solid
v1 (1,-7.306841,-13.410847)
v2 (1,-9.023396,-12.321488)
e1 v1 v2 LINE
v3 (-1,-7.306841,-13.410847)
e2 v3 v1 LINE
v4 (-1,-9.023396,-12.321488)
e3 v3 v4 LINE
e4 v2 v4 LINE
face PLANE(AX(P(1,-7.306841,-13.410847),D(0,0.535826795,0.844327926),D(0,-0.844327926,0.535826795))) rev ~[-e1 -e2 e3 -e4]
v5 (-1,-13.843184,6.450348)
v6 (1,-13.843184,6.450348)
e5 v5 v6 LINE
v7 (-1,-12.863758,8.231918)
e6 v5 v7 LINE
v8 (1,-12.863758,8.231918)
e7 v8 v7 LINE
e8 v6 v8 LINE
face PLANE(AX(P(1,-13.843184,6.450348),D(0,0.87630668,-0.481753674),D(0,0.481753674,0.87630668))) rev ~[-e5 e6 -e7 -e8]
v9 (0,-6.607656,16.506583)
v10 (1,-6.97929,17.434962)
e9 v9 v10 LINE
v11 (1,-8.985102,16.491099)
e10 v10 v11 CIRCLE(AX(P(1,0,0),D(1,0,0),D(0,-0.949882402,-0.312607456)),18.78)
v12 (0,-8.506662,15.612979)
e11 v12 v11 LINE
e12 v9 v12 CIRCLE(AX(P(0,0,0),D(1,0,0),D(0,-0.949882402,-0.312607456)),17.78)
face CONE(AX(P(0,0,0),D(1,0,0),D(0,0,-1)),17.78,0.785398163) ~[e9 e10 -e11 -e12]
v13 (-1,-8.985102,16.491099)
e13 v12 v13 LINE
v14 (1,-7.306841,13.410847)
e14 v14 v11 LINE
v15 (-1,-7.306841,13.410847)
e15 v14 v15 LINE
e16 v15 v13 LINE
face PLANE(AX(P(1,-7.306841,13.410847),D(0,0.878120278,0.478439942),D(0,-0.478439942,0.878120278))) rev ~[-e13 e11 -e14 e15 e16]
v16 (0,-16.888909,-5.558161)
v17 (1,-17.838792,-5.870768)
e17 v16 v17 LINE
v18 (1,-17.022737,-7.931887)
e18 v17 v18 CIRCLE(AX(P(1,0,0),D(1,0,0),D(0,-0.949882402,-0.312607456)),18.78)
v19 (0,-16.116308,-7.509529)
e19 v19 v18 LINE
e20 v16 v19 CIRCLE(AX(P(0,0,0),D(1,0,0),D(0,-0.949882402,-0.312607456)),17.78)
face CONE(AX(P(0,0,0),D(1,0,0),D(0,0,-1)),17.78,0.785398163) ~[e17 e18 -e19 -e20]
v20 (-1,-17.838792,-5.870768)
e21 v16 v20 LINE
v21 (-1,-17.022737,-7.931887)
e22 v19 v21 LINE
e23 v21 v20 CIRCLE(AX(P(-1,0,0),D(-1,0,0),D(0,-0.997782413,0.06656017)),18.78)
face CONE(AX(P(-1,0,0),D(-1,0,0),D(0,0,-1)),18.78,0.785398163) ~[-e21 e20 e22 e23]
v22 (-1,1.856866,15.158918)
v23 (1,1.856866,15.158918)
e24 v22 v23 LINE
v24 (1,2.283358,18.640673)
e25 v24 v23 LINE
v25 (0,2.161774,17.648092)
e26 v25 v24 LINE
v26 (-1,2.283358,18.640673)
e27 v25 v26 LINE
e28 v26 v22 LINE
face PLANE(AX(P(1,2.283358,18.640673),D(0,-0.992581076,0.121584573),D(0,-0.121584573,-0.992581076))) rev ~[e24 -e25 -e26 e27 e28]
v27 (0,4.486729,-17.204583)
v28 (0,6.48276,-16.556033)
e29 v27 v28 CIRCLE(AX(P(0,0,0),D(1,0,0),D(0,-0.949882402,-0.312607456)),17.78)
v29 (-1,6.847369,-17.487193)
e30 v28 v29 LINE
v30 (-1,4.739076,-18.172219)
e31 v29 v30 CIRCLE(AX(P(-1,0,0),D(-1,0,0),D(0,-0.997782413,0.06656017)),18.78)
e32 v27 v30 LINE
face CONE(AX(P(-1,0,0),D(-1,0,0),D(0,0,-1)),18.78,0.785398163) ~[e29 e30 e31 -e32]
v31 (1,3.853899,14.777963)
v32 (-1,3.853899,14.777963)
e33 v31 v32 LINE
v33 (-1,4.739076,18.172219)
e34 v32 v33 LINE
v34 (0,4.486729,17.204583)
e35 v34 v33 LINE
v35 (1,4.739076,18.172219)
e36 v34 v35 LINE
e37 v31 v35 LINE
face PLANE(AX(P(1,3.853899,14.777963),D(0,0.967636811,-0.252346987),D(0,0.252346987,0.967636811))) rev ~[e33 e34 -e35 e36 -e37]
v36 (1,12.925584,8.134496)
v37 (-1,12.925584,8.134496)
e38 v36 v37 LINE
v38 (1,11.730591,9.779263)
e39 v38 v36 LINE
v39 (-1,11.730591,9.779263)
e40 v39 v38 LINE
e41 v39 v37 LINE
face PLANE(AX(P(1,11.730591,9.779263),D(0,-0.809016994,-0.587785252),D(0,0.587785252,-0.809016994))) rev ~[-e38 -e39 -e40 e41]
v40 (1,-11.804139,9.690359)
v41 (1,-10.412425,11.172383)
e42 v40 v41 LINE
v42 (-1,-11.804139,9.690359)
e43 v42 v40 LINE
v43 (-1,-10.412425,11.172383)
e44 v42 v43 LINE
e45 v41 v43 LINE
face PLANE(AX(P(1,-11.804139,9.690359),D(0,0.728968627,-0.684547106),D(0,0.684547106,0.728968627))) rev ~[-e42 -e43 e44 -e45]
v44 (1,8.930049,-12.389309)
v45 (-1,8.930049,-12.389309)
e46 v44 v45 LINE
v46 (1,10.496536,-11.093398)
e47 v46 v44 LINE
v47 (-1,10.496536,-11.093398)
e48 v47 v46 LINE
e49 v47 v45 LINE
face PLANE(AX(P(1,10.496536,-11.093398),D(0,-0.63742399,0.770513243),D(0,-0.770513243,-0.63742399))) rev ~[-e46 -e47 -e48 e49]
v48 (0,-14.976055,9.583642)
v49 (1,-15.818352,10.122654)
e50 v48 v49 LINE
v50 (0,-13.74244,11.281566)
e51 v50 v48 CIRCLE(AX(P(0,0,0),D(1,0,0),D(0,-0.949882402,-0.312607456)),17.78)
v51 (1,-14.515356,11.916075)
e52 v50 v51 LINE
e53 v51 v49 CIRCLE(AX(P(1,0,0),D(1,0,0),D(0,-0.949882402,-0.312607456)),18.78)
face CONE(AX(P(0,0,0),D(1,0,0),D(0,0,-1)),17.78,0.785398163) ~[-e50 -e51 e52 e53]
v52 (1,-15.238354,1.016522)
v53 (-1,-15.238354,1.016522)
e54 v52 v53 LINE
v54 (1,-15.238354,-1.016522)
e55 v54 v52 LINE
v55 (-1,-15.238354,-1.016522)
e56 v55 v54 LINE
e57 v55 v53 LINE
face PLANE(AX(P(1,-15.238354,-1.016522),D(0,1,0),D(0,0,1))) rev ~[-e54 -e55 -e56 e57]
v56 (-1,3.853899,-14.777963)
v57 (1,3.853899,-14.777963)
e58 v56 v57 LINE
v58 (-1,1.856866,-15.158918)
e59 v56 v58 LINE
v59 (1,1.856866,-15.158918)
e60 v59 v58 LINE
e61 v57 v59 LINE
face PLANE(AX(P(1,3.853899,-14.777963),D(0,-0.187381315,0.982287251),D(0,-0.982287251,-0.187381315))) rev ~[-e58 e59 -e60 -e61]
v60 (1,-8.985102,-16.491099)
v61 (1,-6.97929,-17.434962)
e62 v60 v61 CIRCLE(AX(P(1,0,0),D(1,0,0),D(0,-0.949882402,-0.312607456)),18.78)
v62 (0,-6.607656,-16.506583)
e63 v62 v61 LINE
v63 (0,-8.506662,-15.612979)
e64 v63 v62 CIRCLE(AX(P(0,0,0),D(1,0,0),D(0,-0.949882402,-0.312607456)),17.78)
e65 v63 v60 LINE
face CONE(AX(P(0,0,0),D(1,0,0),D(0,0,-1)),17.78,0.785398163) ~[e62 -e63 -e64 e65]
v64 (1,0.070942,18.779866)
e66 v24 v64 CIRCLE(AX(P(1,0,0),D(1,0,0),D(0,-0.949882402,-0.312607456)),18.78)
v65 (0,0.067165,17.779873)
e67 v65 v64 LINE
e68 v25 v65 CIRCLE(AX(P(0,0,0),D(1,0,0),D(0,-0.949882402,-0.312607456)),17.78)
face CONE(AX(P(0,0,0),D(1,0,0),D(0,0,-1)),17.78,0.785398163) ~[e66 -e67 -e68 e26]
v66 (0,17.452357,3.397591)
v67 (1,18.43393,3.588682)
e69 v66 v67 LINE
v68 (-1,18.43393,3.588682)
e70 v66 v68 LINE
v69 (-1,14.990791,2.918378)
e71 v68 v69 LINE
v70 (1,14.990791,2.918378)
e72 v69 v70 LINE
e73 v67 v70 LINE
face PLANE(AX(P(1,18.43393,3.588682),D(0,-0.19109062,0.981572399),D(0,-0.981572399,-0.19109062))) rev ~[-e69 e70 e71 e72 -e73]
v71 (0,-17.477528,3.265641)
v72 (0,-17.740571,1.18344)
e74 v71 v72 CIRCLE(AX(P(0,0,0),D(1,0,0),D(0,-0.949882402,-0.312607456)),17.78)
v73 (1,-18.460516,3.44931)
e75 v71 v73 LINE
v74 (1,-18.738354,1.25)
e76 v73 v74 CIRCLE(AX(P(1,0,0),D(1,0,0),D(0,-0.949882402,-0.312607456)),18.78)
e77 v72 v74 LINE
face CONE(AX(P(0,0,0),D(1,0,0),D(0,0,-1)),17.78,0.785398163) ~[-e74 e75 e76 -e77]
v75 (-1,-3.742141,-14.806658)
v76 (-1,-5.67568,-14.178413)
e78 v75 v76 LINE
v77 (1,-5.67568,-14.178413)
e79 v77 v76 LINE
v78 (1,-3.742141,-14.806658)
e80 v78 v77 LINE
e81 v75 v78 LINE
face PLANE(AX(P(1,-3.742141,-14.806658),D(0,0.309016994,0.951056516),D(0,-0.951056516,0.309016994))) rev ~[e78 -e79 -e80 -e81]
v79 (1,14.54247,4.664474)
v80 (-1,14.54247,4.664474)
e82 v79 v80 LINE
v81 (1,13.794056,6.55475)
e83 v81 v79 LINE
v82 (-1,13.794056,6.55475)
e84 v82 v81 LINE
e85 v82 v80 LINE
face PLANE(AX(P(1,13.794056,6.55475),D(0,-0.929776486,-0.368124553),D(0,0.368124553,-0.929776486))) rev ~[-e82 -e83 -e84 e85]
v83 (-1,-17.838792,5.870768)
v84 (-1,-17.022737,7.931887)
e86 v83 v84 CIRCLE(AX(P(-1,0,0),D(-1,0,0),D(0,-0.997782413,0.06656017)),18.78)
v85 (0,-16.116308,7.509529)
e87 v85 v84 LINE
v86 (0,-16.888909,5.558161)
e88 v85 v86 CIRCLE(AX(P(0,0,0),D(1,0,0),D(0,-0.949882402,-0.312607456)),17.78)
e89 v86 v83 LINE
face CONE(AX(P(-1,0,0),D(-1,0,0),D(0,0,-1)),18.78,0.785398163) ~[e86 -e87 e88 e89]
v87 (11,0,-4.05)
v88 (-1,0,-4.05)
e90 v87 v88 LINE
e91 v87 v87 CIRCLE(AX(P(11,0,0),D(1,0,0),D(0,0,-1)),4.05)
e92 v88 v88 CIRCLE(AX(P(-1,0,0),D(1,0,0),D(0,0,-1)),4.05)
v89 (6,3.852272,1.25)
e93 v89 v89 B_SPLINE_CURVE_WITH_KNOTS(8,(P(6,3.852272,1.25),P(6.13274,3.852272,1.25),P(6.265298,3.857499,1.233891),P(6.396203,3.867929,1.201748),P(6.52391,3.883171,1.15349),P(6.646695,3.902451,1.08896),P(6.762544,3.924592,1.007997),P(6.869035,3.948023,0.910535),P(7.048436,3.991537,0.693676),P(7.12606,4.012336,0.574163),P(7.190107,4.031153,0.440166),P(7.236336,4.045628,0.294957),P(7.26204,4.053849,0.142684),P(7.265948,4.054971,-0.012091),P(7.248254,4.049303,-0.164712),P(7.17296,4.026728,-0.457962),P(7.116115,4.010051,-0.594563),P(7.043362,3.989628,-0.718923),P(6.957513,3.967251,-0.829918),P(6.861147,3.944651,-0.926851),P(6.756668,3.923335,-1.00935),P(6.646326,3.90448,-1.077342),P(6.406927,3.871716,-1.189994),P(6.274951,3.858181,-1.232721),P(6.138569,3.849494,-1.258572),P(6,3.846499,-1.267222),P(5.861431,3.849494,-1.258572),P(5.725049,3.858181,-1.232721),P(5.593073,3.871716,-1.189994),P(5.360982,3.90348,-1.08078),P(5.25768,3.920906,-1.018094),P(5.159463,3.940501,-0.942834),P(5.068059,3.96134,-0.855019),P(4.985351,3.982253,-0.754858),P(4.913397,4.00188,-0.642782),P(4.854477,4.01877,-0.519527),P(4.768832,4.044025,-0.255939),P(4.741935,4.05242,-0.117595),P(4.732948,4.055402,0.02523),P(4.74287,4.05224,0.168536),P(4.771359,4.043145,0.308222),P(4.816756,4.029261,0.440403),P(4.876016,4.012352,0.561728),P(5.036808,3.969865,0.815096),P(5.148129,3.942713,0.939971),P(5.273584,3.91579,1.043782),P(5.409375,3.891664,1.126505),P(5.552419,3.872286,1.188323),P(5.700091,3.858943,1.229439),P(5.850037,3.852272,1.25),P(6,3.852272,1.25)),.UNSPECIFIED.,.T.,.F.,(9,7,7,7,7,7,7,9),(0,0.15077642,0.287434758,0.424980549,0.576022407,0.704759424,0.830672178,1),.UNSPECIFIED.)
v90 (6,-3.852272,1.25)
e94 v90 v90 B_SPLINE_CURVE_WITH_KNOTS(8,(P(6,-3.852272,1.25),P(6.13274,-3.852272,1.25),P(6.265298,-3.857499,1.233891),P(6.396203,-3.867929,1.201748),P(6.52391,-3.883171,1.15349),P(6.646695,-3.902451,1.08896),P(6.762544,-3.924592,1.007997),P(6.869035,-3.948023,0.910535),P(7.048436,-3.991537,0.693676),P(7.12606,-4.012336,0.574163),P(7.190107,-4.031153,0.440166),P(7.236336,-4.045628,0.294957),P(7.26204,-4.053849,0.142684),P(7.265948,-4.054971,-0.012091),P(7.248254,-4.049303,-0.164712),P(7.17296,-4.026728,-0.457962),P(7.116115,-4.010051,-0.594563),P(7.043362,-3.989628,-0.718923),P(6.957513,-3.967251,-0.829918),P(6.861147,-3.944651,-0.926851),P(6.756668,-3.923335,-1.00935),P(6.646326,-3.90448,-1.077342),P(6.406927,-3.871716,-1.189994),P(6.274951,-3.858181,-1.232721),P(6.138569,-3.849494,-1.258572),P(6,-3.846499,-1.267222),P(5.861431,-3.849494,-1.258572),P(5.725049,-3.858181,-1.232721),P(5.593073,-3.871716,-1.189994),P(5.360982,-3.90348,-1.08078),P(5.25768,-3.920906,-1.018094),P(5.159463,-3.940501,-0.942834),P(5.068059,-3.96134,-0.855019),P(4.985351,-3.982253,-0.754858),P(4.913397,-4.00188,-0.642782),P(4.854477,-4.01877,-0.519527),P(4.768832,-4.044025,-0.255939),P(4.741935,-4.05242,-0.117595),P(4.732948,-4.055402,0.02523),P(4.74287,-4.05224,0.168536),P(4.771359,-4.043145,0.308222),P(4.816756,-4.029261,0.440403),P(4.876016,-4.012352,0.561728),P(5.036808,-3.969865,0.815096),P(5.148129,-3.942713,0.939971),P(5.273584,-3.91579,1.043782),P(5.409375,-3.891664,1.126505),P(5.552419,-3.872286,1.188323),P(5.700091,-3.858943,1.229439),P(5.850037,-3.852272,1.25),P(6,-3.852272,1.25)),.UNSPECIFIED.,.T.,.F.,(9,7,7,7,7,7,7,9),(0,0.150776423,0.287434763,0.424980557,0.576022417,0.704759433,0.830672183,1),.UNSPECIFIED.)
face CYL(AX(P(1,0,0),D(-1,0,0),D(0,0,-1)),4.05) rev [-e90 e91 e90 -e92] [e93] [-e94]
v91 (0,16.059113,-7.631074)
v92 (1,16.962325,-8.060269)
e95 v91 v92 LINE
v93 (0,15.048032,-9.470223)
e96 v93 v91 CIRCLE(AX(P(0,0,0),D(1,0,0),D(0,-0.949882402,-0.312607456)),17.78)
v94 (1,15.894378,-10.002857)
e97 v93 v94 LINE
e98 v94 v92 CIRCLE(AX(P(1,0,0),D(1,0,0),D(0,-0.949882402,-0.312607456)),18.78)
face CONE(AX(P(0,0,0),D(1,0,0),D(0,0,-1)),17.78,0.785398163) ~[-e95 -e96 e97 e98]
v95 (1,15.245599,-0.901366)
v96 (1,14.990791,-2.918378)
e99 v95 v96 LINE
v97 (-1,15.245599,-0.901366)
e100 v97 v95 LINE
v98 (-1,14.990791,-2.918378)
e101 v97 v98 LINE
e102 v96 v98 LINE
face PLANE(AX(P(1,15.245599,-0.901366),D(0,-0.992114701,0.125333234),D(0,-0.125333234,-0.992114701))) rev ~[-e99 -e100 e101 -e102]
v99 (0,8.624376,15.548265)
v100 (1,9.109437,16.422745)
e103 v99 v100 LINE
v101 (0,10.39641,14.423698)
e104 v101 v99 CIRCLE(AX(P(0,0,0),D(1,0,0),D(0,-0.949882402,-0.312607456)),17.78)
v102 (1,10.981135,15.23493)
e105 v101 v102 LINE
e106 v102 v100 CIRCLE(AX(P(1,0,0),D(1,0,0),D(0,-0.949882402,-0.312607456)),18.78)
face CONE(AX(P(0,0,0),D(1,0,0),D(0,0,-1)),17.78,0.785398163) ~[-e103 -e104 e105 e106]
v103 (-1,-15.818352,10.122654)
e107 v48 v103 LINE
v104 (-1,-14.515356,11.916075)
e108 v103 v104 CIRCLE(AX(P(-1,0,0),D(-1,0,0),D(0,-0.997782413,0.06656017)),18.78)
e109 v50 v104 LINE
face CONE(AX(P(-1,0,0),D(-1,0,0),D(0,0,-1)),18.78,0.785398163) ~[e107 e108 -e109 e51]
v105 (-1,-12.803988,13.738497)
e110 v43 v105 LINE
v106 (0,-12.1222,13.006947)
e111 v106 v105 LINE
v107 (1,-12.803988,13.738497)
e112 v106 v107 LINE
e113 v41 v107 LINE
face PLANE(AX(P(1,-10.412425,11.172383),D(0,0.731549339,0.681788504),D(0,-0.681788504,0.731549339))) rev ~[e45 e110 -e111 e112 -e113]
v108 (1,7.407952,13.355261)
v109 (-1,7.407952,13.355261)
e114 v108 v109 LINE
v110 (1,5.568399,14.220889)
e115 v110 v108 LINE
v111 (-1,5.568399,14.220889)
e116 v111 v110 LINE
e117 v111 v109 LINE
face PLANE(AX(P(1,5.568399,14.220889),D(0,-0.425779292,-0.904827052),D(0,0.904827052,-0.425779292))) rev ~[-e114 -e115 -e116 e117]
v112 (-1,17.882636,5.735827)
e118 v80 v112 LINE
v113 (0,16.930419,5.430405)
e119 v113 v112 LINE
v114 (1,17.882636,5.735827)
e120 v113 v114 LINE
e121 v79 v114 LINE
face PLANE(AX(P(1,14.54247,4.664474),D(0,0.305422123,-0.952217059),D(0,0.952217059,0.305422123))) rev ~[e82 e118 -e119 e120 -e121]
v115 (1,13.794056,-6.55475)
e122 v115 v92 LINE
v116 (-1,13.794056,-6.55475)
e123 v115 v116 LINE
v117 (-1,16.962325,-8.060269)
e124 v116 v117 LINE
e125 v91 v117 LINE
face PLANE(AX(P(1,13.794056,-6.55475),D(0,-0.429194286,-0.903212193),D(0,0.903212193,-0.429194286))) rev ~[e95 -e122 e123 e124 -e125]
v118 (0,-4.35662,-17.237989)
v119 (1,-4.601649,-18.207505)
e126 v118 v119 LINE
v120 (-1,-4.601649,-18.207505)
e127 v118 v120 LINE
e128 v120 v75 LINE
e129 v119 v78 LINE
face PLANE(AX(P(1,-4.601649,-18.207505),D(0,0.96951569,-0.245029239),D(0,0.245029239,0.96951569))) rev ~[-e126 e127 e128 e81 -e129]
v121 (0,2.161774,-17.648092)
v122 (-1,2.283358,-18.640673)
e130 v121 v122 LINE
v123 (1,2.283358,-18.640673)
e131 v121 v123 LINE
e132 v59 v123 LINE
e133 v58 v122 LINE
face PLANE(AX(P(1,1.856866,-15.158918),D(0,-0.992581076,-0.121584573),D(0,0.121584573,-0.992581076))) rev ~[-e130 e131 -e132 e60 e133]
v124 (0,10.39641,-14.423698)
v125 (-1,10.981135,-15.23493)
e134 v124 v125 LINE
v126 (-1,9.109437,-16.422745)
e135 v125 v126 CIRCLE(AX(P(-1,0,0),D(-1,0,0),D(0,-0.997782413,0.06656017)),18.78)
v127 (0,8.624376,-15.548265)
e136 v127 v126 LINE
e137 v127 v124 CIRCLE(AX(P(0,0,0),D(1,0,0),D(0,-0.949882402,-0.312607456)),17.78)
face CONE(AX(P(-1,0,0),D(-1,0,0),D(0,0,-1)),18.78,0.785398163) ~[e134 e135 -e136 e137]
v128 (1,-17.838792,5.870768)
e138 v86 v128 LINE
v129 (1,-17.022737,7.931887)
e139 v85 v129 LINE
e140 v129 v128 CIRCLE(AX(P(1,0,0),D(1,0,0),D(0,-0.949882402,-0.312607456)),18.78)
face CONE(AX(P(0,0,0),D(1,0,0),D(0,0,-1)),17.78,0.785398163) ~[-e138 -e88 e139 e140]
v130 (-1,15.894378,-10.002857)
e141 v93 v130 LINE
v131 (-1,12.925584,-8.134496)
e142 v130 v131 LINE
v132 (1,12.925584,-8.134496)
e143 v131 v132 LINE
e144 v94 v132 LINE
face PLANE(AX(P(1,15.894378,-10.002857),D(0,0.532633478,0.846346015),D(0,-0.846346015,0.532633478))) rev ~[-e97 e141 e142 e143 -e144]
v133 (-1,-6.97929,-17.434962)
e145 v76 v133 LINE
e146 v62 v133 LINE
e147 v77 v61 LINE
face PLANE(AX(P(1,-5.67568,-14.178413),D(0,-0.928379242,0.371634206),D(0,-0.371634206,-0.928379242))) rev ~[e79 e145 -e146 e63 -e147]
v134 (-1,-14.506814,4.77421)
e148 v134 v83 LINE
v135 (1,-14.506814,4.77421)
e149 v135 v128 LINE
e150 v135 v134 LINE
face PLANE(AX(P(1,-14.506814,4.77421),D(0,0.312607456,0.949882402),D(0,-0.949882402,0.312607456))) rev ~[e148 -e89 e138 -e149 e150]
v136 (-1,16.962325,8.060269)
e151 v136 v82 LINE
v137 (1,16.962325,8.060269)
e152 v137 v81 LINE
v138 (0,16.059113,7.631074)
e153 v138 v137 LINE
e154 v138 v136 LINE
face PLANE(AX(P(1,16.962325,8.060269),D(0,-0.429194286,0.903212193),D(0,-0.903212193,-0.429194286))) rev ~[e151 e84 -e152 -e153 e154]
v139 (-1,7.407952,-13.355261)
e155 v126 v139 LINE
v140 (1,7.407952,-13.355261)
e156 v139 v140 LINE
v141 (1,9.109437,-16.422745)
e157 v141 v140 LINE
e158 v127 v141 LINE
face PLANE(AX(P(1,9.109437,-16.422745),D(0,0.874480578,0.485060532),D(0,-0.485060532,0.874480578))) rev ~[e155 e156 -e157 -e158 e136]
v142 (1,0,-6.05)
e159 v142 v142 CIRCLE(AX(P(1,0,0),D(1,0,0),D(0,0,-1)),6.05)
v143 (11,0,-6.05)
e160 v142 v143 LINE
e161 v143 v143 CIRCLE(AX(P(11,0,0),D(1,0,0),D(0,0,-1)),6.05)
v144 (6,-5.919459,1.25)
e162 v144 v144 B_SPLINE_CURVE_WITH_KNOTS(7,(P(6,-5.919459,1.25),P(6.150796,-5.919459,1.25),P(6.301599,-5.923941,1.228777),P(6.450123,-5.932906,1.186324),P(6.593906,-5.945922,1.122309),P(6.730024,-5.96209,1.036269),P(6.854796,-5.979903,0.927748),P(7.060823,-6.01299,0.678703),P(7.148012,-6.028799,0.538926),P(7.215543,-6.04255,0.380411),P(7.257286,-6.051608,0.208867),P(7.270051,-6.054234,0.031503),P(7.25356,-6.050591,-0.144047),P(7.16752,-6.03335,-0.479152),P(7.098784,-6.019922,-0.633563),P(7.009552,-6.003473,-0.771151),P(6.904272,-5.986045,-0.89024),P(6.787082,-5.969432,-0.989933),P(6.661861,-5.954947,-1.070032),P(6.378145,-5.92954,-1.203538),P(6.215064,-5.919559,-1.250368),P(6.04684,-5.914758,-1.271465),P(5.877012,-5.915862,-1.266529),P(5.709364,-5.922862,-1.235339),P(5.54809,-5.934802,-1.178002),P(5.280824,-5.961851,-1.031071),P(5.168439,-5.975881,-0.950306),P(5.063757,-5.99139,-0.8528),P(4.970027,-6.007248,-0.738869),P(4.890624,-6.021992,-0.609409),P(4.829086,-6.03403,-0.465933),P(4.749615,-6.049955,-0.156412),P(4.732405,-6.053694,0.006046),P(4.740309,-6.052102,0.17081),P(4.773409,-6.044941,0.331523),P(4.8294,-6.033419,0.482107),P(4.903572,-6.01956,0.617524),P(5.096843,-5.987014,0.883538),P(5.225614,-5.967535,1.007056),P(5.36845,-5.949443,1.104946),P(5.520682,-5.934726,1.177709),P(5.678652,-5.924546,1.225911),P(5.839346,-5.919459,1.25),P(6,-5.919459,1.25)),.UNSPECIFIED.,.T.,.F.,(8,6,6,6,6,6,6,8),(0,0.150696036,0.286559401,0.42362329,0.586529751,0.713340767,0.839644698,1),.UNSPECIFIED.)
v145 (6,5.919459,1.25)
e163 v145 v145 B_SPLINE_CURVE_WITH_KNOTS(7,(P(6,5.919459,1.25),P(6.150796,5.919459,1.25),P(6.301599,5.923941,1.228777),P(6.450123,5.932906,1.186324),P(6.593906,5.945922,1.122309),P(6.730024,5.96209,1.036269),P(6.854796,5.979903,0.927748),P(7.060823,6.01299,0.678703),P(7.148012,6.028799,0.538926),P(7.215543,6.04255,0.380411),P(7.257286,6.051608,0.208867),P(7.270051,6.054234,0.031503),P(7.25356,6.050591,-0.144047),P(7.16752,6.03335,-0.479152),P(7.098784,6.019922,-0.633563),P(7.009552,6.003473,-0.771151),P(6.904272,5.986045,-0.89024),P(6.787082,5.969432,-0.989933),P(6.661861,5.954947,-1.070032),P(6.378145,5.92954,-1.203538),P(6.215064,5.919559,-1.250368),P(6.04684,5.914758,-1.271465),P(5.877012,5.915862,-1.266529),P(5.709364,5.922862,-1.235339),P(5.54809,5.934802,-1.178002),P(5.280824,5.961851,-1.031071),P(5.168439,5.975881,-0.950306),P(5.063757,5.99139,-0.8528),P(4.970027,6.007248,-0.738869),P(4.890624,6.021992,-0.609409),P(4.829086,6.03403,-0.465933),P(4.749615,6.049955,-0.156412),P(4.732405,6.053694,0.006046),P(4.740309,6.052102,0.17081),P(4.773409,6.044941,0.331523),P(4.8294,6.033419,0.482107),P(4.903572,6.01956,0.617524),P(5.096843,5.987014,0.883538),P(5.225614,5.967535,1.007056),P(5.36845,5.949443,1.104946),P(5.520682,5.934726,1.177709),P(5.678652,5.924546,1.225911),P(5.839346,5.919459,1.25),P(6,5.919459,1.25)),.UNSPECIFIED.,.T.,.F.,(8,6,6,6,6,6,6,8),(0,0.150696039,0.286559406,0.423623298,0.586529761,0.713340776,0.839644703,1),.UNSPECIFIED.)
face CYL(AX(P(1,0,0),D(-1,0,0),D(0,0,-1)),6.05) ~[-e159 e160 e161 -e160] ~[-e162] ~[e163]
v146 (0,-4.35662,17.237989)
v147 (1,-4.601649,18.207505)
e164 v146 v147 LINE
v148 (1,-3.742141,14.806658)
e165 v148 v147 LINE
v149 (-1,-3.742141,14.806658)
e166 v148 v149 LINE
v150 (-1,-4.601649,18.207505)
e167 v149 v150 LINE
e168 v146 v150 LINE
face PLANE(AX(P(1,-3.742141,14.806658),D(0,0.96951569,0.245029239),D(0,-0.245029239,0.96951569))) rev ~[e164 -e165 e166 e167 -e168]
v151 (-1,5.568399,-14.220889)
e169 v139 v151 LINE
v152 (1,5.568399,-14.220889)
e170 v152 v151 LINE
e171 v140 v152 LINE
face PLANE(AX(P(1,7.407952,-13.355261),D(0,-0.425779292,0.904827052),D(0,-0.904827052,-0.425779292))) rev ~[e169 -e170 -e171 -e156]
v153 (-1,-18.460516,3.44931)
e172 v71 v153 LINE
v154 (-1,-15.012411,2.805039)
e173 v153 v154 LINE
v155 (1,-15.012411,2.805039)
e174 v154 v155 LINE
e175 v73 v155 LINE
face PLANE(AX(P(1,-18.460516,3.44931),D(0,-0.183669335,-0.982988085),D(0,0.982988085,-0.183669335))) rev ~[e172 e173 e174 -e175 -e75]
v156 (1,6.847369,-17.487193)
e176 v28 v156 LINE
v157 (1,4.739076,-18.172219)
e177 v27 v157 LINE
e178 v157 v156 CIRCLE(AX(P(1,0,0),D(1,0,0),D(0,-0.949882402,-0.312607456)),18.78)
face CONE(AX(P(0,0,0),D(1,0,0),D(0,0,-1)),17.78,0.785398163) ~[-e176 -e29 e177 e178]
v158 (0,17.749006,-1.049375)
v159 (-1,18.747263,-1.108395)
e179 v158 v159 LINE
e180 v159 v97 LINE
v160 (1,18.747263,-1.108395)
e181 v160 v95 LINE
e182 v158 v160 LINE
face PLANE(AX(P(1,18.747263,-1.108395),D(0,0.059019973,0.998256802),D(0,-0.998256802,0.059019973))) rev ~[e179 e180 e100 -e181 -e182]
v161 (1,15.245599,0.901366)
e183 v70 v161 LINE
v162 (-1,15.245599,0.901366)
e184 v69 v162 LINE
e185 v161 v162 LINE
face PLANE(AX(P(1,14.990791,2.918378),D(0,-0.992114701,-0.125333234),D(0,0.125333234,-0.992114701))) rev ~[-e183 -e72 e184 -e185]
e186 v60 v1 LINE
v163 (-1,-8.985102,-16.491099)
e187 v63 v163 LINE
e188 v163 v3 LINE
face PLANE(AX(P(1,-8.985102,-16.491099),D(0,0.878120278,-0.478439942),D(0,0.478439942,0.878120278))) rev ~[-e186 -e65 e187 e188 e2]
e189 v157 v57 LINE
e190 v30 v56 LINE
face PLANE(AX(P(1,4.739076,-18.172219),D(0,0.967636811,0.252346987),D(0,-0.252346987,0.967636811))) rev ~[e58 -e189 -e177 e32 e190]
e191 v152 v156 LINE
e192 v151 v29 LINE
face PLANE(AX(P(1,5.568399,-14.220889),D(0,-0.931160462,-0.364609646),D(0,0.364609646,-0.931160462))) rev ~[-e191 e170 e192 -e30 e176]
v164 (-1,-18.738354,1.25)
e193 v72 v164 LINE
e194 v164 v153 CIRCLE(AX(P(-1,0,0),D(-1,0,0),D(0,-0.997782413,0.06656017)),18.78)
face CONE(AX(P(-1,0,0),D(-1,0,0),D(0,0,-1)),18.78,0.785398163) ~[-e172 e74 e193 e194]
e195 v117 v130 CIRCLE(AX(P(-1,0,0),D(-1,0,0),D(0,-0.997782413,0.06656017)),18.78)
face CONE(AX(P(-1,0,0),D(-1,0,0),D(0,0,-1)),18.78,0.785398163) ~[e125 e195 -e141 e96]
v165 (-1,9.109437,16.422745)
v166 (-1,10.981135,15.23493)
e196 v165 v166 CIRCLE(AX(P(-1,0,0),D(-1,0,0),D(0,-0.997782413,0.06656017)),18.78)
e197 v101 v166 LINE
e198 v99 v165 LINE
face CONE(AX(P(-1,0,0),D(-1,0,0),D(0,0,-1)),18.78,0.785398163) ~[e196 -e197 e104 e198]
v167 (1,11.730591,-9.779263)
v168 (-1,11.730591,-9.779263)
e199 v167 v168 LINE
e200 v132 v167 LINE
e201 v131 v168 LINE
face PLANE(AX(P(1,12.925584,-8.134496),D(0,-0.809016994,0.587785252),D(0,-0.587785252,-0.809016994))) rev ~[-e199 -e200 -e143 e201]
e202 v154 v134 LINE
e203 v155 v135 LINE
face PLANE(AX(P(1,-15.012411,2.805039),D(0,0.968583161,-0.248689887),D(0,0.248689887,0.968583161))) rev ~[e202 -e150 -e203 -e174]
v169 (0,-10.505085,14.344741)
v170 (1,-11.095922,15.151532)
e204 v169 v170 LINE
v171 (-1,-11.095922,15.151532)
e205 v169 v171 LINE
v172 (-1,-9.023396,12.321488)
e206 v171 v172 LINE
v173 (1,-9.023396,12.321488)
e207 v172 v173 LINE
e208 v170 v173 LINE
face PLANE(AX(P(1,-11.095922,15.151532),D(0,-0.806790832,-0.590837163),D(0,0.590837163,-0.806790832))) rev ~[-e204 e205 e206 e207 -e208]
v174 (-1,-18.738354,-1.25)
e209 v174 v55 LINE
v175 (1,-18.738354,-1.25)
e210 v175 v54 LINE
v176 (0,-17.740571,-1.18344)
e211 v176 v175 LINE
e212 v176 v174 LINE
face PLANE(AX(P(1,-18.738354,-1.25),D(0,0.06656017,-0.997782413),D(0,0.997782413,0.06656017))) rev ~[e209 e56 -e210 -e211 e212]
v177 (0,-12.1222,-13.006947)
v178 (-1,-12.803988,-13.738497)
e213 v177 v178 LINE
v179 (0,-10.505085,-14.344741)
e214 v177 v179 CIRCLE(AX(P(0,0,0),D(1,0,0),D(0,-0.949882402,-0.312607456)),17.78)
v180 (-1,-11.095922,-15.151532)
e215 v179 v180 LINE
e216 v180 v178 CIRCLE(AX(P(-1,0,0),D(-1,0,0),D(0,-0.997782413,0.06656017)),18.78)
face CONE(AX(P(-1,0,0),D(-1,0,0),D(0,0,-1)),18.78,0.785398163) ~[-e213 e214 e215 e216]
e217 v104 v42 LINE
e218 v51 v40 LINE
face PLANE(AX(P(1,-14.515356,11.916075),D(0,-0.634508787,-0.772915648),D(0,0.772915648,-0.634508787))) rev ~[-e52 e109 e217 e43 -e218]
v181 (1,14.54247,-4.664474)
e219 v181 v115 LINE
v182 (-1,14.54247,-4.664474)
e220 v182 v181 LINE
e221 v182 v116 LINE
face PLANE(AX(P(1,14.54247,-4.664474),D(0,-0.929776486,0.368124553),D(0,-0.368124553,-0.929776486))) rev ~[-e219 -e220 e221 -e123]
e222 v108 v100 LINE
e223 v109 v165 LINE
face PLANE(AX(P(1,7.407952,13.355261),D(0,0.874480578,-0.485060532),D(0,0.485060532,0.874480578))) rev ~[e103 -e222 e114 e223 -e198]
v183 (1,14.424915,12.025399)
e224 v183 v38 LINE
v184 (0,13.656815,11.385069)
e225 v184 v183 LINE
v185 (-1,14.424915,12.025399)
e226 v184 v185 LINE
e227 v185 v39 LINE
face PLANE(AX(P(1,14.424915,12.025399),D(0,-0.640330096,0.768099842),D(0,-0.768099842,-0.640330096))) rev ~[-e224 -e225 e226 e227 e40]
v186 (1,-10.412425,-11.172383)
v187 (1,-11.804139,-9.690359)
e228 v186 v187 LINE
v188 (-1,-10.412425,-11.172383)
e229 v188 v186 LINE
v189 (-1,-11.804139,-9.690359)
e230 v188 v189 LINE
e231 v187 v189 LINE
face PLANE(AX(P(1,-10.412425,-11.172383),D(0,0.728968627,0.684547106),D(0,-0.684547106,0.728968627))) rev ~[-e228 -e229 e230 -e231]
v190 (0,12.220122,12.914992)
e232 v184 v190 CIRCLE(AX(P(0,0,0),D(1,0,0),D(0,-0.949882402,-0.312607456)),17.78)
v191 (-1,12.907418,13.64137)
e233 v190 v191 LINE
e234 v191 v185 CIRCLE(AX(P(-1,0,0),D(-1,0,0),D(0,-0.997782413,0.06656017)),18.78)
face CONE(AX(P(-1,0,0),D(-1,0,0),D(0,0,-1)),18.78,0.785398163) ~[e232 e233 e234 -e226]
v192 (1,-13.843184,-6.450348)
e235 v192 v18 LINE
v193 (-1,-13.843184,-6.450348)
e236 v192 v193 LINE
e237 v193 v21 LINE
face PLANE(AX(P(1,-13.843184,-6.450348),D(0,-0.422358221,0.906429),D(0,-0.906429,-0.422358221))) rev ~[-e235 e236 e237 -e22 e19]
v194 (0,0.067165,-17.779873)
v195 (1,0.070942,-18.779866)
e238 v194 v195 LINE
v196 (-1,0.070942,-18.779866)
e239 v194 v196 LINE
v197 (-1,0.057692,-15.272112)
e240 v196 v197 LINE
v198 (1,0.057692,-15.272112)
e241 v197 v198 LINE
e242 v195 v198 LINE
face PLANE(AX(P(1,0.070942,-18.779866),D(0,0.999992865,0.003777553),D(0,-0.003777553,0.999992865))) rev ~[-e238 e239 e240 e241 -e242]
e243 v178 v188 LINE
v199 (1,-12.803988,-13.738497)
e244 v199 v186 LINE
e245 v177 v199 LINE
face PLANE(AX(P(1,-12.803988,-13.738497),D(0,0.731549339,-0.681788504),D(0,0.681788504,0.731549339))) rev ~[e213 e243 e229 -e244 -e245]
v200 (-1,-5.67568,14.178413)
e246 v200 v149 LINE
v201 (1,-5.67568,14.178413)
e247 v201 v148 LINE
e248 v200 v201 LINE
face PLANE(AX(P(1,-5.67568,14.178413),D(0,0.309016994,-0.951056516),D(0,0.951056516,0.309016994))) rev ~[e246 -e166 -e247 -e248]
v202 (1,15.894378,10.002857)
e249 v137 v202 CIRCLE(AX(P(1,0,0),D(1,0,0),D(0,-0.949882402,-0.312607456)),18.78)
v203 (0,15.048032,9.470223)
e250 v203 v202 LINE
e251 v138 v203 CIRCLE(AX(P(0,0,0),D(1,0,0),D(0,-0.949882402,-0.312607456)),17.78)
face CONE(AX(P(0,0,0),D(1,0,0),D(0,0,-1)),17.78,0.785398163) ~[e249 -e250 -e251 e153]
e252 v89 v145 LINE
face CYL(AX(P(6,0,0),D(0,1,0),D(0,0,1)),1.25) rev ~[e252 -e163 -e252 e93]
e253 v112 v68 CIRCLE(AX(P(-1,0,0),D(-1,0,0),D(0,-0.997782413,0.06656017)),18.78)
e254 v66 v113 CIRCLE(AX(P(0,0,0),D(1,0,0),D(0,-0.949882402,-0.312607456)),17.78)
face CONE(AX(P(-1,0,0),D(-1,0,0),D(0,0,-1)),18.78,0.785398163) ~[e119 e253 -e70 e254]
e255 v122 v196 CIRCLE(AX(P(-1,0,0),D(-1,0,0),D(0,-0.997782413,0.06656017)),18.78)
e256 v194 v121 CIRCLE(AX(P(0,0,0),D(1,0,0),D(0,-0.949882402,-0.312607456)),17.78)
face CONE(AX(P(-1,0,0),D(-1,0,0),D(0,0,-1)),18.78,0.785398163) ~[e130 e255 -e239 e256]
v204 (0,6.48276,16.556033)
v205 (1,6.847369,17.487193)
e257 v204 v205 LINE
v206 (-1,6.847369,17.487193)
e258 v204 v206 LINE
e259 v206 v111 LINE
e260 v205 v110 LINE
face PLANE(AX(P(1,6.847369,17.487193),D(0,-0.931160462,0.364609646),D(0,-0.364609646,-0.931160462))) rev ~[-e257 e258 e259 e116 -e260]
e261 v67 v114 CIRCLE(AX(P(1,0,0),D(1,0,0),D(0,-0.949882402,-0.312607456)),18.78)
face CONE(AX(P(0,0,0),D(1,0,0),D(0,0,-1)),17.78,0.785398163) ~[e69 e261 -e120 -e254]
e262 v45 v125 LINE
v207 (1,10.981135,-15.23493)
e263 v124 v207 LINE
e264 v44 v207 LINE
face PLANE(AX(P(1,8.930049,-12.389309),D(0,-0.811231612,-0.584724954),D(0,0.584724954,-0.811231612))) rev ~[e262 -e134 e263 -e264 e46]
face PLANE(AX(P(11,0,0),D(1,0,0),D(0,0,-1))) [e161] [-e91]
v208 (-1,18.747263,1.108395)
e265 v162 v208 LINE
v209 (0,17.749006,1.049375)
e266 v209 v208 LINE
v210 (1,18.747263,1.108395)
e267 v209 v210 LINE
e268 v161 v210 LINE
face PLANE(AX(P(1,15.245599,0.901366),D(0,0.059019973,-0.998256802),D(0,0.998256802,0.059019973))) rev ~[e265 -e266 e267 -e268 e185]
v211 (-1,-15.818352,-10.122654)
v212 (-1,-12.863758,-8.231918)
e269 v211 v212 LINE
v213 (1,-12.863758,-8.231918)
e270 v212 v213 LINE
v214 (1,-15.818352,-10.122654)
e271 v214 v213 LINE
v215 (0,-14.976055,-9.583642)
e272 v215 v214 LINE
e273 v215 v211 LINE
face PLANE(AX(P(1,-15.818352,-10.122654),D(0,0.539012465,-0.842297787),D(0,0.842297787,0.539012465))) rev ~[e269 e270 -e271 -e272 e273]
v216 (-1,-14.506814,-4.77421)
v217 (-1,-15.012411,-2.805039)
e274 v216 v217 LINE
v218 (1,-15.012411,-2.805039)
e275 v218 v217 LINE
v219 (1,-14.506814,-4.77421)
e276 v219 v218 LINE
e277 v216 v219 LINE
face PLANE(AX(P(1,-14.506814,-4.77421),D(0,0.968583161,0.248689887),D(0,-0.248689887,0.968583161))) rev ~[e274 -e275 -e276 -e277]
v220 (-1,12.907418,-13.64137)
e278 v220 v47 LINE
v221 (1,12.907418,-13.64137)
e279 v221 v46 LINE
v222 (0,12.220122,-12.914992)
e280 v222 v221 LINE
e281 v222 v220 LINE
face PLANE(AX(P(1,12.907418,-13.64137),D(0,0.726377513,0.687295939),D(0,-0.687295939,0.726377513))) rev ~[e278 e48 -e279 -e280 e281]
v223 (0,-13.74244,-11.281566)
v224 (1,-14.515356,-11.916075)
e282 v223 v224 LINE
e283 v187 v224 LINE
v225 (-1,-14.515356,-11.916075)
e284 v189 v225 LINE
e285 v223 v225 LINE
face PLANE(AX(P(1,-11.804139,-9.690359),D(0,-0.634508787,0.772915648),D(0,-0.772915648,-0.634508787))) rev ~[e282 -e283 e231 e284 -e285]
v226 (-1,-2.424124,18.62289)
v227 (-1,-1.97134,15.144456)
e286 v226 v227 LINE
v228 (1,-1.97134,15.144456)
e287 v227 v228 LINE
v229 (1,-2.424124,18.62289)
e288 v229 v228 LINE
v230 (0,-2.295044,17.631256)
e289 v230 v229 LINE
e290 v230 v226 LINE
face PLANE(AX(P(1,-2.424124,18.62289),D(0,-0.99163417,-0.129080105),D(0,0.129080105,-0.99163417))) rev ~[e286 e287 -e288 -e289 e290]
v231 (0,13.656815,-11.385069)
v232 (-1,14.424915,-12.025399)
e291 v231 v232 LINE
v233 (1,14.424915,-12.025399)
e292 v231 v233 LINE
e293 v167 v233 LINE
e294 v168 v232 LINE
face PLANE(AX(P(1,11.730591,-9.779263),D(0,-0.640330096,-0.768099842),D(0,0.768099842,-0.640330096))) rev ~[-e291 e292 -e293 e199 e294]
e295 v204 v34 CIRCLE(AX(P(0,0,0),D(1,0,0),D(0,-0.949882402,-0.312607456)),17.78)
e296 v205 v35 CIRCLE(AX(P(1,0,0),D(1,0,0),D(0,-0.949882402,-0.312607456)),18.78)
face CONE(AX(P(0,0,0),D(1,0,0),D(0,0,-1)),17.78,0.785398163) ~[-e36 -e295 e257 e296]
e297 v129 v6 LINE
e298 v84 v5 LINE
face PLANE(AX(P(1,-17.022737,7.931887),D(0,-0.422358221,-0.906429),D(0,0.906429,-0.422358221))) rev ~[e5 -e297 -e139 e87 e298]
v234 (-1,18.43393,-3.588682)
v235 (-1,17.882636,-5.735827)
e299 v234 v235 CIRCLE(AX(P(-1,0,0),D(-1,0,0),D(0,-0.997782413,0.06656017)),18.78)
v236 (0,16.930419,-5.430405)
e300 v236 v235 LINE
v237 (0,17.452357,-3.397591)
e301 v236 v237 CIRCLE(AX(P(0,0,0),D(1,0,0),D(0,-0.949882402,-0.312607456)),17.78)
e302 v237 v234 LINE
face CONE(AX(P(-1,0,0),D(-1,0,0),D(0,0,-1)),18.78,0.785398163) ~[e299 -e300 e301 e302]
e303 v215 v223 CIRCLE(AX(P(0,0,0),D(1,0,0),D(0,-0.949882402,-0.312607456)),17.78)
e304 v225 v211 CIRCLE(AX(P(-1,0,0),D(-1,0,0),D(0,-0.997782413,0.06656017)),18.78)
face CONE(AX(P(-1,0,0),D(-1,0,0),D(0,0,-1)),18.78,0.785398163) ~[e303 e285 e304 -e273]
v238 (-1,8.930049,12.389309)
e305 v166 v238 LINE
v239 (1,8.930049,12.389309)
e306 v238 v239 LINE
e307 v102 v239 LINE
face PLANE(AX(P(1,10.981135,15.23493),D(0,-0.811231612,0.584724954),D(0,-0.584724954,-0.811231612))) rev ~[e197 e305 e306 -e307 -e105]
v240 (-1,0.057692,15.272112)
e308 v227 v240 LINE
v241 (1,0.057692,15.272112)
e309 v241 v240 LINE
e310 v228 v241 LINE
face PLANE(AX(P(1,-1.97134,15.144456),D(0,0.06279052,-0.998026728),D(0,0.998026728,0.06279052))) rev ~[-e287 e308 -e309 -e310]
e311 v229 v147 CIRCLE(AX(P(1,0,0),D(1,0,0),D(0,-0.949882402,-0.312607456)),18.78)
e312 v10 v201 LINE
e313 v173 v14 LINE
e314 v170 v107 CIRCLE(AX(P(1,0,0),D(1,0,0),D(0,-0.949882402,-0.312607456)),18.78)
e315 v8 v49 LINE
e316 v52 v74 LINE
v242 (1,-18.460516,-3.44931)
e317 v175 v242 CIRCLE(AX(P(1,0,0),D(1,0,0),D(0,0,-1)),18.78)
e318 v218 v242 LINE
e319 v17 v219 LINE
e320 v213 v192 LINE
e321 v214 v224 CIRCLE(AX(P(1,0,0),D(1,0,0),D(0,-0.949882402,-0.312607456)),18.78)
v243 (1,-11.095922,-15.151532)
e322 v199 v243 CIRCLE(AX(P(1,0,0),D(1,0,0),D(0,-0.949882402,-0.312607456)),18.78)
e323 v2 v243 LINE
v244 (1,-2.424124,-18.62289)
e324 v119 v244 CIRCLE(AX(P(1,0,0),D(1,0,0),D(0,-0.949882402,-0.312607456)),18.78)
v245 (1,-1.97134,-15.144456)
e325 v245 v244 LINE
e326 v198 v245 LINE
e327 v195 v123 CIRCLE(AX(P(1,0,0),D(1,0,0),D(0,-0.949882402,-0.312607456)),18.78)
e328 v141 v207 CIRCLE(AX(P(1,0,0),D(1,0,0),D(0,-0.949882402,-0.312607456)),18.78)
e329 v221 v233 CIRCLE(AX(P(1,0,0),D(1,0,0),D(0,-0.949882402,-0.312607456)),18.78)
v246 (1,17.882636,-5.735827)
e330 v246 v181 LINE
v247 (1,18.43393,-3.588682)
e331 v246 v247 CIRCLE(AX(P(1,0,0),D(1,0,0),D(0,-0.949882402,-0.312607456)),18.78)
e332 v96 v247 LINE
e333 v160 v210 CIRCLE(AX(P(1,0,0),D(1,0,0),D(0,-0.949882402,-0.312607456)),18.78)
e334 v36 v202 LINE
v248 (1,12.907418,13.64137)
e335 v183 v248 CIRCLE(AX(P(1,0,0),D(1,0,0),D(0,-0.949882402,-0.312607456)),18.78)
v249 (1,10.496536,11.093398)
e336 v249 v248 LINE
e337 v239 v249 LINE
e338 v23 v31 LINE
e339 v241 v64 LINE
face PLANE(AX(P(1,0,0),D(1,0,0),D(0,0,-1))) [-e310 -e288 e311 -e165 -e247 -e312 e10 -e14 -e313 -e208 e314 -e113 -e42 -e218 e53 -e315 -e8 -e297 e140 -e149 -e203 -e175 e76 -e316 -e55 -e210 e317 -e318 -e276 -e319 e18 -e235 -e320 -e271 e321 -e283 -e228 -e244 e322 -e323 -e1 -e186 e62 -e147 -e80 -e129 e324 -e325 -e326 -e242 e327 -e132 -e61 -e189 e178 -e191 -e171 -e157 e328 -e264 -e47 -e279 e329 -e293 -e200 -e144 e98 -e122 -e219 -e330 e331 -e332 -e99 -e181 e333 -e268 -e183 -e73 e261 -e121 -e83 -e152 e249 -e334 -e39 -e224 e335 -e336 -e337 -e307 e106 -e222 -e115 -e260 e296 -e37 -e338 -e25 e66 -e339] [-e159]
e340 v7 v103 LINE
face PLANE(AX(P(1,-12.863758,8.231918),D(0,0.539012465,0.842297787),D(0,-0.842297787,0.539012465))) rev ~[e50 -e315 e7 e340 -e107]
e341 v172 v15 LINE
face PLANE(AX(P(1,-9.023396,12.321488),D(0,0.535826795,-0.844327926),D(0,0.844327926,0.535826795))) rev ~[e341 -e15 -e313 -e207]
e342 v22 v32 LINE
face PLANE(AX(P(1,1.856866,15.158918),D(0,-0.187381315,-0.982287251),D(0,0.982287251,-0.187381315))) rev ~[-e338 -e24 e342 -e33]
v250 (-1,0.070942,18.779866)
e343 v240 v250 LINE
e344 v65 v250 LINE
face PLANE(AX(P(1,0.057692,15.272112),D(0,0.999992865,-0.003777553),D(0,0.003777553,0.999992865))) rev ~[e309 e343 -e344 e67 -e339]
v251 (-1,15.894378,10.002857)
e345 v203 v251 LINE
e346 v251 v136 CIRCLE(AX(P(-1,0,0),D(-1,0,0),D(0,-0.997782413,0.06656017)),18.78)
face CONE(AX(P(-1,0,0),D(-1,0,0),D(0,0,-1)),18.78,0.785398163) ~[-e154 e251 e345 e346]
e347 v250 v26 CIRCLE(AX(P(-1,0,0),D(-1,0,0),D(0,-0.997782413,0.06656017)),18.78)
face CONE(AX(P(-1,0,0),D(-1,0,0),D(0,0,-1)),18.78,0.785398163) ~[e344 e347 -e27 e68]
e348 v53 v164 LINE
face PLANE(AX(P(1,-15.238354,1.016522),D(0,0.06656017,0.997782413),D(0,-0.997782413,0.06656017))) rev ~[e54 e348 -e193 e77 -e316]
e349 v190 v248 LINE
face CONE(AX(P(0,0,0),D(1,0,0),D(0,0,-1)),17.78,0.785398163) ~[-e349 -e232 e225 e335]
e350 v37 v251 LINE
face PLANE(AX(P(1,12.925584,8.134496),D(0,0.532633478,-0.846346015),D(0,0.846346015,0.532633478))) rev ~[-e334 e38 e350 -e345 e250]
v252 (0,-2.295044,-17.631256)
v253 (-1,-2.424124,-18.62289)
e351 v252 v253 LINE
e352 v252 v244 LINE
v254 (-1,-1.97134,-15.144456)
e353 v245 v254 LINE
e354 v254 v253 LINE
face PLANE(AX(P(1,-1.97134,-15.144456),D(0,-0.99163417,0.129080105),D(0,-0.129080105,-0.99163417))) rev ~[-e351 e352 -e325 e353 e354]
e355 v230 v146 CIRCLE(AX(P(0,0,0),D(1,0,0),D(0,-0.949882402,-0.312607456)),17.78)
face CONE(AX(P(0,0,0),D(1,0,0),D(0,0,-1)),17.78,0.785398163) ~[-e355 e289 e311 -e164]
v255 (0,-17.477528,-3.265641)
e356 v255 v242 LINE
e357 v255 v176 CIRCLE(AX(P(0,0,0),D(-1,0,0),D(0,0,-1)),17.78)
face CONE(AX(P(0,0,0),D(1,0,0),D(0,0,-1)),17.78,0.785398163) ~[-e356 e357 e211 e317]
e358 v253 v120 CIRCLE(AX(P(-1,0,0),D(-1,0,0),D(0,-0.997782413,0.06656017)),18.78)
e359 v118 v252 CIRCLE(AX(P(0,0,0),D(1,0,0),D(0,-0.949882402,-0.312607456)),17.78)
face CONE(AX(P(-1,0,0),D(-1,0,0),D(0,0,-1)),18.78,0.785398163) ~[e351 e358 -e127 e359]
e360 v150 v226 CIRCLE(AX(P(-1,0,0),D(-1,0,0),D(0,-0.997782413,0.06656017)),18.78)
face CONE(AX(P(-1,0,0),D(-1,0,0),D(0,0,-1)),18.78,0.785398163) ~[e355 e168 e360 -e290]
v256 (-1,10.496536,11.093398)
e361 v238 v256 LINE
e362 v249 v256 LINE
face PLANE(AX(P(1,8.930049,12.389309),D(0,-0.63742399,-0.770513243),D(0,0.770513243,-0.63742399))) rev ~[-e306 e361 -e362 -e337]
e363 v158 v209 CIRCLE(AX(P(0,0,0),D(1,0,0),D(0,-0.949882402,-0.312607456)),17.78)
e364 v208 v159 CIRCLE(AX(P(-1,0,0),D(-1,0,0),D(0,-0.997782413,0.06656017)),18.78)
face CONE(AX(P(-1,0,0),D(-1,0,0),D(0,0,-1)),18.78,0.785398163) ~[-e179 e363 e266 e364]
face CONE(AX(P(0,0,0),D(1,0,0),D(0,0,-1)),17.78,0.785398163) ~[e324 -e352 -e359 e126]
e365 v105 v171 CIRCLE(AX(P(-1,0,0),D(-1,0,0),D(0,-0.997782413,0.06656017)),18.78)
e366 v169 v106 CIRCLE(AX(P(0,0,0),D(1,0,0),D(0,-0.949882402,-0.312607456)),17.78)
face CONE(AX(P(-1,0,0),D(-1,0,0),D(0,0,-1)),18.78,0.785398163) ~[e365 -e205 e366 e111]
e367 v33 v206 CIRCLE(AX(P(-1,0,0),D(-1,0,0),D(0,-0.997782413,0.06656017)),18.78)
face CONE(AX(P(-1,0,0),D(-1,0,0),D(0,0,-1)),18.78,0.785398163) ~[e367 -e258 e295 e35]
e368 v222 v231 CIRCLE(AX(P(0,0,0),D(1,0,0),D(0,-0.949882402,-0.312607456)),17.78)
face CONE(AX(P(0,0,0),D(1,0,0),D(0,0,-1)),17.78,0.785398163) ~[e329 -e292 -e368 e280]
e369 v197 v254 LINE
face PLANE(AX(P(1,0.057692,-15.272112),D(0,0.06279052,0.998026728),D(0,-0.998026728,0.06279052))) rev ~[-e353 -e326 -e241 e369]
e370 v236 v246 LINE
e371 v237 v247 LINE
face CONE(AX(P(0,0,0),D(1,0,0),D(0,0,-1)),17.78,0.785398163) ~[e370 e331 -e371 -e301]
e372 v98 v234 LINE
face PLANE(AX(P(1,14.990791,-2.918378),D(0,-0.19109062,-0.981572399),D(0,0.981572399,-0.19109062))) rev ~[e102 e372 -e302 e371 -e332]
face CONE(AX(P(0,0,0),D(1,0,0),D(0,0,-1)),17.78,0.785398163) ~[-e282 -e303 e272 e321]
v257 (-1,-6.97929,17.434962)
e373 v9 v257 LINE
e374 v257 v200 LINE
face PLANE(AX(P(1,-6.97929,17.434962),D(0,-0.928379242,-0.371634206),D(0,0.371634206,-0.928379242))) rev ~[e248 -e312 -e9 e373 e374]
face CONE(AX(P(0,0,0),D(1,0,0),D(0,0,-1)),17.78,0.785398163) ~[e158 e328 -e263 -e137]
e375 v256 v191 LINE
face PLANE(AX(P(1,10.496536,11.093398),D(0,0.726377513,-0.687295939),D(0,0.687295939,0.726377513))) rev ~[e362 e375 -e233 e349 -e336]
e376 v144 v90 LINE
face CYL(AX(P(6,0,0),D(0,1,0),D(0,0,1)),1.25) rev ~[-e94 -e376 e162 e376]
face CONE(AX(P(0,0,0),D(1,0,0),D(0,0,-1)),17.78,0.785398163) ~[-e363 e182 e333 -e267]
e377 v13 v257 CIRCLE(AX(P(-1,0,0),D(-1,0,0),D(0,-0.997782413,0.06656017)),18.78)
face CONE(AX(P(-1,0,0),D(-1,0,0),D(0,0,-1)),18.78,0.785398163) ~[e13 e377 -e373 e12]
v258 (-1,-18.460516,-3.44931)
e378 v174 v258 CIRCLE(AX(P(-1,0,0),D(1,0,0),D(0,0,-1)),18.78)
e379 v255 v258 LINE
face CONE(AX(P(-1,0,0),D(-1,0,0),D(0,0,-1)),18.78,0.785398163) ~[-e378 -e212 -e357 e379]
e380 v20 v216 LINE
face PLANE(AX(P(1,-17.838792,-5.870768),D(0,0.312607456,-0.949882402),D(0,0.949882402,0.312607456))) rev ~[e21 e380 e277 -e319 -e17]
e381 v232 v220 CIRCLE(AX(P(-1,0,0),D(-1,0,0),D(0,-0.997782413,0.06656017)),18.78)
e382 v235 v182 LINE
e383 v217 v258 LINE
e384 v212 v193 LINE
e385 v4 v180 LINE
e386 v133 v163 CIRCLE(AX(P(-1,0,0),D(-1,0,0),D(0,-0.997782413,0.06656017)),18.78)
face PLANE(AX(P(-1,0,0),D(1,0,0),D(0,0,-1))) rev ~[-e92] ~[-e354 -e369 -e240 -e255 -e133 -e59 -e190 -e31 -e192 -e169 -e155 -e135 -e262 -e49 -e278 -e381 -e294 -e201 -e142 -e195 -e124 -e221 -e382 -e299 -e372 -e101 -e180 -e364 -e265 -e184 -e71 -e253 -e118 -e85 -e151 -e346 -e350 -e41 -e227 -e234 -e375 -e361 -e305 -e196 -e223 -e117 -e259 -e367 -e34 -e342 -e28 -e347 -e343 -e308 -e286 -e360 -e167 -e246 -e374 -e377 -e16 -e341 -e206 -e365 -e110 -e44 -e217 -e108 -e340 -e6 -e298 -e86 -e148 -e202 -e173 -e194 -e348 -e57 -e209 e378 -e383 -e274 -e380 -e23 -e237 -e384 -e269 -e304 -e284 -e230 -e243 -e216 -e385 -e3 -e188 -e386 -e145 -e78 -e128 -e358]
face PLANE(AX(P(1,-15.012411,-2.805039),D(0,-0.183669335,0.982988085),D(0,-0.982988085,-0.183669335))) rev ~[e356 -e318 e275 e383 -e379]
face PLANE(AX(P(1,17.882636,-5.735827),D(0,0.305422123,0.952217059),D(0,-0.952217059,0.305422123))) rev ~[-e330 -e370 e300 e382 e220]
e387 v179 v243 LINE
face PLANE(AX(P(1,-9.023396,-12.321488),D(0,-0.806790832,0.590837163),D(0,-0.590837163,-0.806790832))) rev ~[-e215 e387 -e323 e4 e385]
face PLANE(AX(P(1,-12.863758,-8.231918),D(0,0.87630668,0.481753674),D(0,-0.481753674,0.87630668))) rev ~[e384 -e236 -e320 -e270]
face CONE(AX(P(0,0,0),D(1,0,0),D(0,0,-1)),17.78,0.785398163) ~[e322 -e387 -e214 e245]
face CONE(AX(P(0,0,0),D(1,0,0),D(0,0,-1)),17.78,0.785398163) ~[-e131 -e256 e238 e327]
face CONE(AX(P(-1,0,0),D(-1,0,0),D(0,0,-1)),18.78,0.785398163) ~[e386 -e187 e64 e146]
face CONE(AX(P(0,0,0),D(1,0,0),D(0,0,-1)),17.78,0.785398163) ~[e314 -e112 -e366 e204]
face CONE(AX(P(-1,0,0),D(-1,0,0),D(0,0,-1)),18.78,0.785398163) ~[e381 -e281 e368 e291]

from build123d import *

# Parameters (mm, degrees)
SKETCH2_R           = 18.78
SKETCH2_R_2         = 4.05
BOSS_EXTRUDE1_DEPTH = 1
SKETCH9_R           = 6.05
SKETCH9_R_2         = 4.05
BOSS_EXTRUDE2_DEPTH = 10
SKETCH10_R          = 1.25
CUT_EXTRUDE1_DEPTH  = 10
CUT_EXTRUDE3_DEPTH  = 10
CIRPATTERN1_COUNT   = 25


with BuildPart() as part:
    # Sketch2 → Boss-Extrude1 (new, symmetric)
    with BuildSketch(Plane(origin=(0, 0, 0), x_dir=(0, 0, -1), z_dir=(1, 0, 0))):
        Circle(SKETCH2_R)
        Circle(SKETCH2_R_2, mode=Mode.SUBTRACT)
    extrude(amount=BOSS_EXTRUDE1_DEPTH, both=True)

    # Sketch9 → Boss-Extrude2 (add)
    with BuildSketch(Plane(origin=(1, 0, 0), x_dir=(0, 0, -1), z_dir=(1, 0, 0))):
        Circle(SKETCH9_R)
        Circle(SKETCH9_R_2, mode=Mode.SUBTRACT)
    extrude(amount=BOSS_EXTRUDE2_DEPTH)

    # Sketch5 → Cut-Revolve1 (revolve, cut)
    with BuildSketch(Plane(origin=(0, 0, 0), x_dir=(1, 0, 0), z_dir=(0, 1, 0)), mode=Mode.PRIVATE) as cut_revolve1_sk:
        Polygon((-1, -18.78), (0, -17.78), (1, -18.78), align=None)
    revolve(cut_revolve1_sk.sketch.rotate(Axis((11, 0, 0), (-1, 0, 0)), 180), axis=Axis((11, 0, 0), (-1, 0, 0)), mode=Mode.SUBTRACT)

    # Sketch10 → Cut-Extrude1 (cut, symmetric)
    with BuildSketch(Plane(origin=(0, 0, 0), x_dir=(1, 0, 0), z_dir=(0, 1, 0))):
        with Locations(Location((6, 0, 0), (0, 0, 270))):
            Circle(SKETCH10_R)
    extrude(amount=CUT_EXTRUDE1_DEPTH, both=True, mode=Mode.SUBTRACT)

    # Sketch12 → Cut-Extrude3 (cut, symmetric)
    with BuildSketch(Plane(origin=(1, 0, 0), x_dir=(0, 0, -1), z_dir=(1, 0, 0))):
        with BuildLine():
            ThreePointArc((-1.25, -18.738353716), (0, -18.78), (1.25, -18.738353716))
            Line((1.25, -18.738353716), (1.016521645, -15.238353716))
            Line((1.016521645, -15.238353716), (-1.016521645, -15.238353716))
            Line((-1.016521645, -15.238353716), (-1.25, -18.738353716))
        make_face()
    cut_extrude3 = extrude(amount=CUT_EXTRUDE3_DEPTH, both=True, mode=Mode.SUBTRACT)

    # CirPattern1: Cut-Extrude3 ×25 about axis
    cirpattern1_axis = Axis((0, 0, 0), (1, 0, 0))
    for i in range(1, CIRPATTERN1_COUNT):
        add(cut_extrude3.rotate(cirpattern1_axis, i * 360 / CIRPATTERN1_COUNT), mode=Mode.SUBTRACT)


solid = part.part
